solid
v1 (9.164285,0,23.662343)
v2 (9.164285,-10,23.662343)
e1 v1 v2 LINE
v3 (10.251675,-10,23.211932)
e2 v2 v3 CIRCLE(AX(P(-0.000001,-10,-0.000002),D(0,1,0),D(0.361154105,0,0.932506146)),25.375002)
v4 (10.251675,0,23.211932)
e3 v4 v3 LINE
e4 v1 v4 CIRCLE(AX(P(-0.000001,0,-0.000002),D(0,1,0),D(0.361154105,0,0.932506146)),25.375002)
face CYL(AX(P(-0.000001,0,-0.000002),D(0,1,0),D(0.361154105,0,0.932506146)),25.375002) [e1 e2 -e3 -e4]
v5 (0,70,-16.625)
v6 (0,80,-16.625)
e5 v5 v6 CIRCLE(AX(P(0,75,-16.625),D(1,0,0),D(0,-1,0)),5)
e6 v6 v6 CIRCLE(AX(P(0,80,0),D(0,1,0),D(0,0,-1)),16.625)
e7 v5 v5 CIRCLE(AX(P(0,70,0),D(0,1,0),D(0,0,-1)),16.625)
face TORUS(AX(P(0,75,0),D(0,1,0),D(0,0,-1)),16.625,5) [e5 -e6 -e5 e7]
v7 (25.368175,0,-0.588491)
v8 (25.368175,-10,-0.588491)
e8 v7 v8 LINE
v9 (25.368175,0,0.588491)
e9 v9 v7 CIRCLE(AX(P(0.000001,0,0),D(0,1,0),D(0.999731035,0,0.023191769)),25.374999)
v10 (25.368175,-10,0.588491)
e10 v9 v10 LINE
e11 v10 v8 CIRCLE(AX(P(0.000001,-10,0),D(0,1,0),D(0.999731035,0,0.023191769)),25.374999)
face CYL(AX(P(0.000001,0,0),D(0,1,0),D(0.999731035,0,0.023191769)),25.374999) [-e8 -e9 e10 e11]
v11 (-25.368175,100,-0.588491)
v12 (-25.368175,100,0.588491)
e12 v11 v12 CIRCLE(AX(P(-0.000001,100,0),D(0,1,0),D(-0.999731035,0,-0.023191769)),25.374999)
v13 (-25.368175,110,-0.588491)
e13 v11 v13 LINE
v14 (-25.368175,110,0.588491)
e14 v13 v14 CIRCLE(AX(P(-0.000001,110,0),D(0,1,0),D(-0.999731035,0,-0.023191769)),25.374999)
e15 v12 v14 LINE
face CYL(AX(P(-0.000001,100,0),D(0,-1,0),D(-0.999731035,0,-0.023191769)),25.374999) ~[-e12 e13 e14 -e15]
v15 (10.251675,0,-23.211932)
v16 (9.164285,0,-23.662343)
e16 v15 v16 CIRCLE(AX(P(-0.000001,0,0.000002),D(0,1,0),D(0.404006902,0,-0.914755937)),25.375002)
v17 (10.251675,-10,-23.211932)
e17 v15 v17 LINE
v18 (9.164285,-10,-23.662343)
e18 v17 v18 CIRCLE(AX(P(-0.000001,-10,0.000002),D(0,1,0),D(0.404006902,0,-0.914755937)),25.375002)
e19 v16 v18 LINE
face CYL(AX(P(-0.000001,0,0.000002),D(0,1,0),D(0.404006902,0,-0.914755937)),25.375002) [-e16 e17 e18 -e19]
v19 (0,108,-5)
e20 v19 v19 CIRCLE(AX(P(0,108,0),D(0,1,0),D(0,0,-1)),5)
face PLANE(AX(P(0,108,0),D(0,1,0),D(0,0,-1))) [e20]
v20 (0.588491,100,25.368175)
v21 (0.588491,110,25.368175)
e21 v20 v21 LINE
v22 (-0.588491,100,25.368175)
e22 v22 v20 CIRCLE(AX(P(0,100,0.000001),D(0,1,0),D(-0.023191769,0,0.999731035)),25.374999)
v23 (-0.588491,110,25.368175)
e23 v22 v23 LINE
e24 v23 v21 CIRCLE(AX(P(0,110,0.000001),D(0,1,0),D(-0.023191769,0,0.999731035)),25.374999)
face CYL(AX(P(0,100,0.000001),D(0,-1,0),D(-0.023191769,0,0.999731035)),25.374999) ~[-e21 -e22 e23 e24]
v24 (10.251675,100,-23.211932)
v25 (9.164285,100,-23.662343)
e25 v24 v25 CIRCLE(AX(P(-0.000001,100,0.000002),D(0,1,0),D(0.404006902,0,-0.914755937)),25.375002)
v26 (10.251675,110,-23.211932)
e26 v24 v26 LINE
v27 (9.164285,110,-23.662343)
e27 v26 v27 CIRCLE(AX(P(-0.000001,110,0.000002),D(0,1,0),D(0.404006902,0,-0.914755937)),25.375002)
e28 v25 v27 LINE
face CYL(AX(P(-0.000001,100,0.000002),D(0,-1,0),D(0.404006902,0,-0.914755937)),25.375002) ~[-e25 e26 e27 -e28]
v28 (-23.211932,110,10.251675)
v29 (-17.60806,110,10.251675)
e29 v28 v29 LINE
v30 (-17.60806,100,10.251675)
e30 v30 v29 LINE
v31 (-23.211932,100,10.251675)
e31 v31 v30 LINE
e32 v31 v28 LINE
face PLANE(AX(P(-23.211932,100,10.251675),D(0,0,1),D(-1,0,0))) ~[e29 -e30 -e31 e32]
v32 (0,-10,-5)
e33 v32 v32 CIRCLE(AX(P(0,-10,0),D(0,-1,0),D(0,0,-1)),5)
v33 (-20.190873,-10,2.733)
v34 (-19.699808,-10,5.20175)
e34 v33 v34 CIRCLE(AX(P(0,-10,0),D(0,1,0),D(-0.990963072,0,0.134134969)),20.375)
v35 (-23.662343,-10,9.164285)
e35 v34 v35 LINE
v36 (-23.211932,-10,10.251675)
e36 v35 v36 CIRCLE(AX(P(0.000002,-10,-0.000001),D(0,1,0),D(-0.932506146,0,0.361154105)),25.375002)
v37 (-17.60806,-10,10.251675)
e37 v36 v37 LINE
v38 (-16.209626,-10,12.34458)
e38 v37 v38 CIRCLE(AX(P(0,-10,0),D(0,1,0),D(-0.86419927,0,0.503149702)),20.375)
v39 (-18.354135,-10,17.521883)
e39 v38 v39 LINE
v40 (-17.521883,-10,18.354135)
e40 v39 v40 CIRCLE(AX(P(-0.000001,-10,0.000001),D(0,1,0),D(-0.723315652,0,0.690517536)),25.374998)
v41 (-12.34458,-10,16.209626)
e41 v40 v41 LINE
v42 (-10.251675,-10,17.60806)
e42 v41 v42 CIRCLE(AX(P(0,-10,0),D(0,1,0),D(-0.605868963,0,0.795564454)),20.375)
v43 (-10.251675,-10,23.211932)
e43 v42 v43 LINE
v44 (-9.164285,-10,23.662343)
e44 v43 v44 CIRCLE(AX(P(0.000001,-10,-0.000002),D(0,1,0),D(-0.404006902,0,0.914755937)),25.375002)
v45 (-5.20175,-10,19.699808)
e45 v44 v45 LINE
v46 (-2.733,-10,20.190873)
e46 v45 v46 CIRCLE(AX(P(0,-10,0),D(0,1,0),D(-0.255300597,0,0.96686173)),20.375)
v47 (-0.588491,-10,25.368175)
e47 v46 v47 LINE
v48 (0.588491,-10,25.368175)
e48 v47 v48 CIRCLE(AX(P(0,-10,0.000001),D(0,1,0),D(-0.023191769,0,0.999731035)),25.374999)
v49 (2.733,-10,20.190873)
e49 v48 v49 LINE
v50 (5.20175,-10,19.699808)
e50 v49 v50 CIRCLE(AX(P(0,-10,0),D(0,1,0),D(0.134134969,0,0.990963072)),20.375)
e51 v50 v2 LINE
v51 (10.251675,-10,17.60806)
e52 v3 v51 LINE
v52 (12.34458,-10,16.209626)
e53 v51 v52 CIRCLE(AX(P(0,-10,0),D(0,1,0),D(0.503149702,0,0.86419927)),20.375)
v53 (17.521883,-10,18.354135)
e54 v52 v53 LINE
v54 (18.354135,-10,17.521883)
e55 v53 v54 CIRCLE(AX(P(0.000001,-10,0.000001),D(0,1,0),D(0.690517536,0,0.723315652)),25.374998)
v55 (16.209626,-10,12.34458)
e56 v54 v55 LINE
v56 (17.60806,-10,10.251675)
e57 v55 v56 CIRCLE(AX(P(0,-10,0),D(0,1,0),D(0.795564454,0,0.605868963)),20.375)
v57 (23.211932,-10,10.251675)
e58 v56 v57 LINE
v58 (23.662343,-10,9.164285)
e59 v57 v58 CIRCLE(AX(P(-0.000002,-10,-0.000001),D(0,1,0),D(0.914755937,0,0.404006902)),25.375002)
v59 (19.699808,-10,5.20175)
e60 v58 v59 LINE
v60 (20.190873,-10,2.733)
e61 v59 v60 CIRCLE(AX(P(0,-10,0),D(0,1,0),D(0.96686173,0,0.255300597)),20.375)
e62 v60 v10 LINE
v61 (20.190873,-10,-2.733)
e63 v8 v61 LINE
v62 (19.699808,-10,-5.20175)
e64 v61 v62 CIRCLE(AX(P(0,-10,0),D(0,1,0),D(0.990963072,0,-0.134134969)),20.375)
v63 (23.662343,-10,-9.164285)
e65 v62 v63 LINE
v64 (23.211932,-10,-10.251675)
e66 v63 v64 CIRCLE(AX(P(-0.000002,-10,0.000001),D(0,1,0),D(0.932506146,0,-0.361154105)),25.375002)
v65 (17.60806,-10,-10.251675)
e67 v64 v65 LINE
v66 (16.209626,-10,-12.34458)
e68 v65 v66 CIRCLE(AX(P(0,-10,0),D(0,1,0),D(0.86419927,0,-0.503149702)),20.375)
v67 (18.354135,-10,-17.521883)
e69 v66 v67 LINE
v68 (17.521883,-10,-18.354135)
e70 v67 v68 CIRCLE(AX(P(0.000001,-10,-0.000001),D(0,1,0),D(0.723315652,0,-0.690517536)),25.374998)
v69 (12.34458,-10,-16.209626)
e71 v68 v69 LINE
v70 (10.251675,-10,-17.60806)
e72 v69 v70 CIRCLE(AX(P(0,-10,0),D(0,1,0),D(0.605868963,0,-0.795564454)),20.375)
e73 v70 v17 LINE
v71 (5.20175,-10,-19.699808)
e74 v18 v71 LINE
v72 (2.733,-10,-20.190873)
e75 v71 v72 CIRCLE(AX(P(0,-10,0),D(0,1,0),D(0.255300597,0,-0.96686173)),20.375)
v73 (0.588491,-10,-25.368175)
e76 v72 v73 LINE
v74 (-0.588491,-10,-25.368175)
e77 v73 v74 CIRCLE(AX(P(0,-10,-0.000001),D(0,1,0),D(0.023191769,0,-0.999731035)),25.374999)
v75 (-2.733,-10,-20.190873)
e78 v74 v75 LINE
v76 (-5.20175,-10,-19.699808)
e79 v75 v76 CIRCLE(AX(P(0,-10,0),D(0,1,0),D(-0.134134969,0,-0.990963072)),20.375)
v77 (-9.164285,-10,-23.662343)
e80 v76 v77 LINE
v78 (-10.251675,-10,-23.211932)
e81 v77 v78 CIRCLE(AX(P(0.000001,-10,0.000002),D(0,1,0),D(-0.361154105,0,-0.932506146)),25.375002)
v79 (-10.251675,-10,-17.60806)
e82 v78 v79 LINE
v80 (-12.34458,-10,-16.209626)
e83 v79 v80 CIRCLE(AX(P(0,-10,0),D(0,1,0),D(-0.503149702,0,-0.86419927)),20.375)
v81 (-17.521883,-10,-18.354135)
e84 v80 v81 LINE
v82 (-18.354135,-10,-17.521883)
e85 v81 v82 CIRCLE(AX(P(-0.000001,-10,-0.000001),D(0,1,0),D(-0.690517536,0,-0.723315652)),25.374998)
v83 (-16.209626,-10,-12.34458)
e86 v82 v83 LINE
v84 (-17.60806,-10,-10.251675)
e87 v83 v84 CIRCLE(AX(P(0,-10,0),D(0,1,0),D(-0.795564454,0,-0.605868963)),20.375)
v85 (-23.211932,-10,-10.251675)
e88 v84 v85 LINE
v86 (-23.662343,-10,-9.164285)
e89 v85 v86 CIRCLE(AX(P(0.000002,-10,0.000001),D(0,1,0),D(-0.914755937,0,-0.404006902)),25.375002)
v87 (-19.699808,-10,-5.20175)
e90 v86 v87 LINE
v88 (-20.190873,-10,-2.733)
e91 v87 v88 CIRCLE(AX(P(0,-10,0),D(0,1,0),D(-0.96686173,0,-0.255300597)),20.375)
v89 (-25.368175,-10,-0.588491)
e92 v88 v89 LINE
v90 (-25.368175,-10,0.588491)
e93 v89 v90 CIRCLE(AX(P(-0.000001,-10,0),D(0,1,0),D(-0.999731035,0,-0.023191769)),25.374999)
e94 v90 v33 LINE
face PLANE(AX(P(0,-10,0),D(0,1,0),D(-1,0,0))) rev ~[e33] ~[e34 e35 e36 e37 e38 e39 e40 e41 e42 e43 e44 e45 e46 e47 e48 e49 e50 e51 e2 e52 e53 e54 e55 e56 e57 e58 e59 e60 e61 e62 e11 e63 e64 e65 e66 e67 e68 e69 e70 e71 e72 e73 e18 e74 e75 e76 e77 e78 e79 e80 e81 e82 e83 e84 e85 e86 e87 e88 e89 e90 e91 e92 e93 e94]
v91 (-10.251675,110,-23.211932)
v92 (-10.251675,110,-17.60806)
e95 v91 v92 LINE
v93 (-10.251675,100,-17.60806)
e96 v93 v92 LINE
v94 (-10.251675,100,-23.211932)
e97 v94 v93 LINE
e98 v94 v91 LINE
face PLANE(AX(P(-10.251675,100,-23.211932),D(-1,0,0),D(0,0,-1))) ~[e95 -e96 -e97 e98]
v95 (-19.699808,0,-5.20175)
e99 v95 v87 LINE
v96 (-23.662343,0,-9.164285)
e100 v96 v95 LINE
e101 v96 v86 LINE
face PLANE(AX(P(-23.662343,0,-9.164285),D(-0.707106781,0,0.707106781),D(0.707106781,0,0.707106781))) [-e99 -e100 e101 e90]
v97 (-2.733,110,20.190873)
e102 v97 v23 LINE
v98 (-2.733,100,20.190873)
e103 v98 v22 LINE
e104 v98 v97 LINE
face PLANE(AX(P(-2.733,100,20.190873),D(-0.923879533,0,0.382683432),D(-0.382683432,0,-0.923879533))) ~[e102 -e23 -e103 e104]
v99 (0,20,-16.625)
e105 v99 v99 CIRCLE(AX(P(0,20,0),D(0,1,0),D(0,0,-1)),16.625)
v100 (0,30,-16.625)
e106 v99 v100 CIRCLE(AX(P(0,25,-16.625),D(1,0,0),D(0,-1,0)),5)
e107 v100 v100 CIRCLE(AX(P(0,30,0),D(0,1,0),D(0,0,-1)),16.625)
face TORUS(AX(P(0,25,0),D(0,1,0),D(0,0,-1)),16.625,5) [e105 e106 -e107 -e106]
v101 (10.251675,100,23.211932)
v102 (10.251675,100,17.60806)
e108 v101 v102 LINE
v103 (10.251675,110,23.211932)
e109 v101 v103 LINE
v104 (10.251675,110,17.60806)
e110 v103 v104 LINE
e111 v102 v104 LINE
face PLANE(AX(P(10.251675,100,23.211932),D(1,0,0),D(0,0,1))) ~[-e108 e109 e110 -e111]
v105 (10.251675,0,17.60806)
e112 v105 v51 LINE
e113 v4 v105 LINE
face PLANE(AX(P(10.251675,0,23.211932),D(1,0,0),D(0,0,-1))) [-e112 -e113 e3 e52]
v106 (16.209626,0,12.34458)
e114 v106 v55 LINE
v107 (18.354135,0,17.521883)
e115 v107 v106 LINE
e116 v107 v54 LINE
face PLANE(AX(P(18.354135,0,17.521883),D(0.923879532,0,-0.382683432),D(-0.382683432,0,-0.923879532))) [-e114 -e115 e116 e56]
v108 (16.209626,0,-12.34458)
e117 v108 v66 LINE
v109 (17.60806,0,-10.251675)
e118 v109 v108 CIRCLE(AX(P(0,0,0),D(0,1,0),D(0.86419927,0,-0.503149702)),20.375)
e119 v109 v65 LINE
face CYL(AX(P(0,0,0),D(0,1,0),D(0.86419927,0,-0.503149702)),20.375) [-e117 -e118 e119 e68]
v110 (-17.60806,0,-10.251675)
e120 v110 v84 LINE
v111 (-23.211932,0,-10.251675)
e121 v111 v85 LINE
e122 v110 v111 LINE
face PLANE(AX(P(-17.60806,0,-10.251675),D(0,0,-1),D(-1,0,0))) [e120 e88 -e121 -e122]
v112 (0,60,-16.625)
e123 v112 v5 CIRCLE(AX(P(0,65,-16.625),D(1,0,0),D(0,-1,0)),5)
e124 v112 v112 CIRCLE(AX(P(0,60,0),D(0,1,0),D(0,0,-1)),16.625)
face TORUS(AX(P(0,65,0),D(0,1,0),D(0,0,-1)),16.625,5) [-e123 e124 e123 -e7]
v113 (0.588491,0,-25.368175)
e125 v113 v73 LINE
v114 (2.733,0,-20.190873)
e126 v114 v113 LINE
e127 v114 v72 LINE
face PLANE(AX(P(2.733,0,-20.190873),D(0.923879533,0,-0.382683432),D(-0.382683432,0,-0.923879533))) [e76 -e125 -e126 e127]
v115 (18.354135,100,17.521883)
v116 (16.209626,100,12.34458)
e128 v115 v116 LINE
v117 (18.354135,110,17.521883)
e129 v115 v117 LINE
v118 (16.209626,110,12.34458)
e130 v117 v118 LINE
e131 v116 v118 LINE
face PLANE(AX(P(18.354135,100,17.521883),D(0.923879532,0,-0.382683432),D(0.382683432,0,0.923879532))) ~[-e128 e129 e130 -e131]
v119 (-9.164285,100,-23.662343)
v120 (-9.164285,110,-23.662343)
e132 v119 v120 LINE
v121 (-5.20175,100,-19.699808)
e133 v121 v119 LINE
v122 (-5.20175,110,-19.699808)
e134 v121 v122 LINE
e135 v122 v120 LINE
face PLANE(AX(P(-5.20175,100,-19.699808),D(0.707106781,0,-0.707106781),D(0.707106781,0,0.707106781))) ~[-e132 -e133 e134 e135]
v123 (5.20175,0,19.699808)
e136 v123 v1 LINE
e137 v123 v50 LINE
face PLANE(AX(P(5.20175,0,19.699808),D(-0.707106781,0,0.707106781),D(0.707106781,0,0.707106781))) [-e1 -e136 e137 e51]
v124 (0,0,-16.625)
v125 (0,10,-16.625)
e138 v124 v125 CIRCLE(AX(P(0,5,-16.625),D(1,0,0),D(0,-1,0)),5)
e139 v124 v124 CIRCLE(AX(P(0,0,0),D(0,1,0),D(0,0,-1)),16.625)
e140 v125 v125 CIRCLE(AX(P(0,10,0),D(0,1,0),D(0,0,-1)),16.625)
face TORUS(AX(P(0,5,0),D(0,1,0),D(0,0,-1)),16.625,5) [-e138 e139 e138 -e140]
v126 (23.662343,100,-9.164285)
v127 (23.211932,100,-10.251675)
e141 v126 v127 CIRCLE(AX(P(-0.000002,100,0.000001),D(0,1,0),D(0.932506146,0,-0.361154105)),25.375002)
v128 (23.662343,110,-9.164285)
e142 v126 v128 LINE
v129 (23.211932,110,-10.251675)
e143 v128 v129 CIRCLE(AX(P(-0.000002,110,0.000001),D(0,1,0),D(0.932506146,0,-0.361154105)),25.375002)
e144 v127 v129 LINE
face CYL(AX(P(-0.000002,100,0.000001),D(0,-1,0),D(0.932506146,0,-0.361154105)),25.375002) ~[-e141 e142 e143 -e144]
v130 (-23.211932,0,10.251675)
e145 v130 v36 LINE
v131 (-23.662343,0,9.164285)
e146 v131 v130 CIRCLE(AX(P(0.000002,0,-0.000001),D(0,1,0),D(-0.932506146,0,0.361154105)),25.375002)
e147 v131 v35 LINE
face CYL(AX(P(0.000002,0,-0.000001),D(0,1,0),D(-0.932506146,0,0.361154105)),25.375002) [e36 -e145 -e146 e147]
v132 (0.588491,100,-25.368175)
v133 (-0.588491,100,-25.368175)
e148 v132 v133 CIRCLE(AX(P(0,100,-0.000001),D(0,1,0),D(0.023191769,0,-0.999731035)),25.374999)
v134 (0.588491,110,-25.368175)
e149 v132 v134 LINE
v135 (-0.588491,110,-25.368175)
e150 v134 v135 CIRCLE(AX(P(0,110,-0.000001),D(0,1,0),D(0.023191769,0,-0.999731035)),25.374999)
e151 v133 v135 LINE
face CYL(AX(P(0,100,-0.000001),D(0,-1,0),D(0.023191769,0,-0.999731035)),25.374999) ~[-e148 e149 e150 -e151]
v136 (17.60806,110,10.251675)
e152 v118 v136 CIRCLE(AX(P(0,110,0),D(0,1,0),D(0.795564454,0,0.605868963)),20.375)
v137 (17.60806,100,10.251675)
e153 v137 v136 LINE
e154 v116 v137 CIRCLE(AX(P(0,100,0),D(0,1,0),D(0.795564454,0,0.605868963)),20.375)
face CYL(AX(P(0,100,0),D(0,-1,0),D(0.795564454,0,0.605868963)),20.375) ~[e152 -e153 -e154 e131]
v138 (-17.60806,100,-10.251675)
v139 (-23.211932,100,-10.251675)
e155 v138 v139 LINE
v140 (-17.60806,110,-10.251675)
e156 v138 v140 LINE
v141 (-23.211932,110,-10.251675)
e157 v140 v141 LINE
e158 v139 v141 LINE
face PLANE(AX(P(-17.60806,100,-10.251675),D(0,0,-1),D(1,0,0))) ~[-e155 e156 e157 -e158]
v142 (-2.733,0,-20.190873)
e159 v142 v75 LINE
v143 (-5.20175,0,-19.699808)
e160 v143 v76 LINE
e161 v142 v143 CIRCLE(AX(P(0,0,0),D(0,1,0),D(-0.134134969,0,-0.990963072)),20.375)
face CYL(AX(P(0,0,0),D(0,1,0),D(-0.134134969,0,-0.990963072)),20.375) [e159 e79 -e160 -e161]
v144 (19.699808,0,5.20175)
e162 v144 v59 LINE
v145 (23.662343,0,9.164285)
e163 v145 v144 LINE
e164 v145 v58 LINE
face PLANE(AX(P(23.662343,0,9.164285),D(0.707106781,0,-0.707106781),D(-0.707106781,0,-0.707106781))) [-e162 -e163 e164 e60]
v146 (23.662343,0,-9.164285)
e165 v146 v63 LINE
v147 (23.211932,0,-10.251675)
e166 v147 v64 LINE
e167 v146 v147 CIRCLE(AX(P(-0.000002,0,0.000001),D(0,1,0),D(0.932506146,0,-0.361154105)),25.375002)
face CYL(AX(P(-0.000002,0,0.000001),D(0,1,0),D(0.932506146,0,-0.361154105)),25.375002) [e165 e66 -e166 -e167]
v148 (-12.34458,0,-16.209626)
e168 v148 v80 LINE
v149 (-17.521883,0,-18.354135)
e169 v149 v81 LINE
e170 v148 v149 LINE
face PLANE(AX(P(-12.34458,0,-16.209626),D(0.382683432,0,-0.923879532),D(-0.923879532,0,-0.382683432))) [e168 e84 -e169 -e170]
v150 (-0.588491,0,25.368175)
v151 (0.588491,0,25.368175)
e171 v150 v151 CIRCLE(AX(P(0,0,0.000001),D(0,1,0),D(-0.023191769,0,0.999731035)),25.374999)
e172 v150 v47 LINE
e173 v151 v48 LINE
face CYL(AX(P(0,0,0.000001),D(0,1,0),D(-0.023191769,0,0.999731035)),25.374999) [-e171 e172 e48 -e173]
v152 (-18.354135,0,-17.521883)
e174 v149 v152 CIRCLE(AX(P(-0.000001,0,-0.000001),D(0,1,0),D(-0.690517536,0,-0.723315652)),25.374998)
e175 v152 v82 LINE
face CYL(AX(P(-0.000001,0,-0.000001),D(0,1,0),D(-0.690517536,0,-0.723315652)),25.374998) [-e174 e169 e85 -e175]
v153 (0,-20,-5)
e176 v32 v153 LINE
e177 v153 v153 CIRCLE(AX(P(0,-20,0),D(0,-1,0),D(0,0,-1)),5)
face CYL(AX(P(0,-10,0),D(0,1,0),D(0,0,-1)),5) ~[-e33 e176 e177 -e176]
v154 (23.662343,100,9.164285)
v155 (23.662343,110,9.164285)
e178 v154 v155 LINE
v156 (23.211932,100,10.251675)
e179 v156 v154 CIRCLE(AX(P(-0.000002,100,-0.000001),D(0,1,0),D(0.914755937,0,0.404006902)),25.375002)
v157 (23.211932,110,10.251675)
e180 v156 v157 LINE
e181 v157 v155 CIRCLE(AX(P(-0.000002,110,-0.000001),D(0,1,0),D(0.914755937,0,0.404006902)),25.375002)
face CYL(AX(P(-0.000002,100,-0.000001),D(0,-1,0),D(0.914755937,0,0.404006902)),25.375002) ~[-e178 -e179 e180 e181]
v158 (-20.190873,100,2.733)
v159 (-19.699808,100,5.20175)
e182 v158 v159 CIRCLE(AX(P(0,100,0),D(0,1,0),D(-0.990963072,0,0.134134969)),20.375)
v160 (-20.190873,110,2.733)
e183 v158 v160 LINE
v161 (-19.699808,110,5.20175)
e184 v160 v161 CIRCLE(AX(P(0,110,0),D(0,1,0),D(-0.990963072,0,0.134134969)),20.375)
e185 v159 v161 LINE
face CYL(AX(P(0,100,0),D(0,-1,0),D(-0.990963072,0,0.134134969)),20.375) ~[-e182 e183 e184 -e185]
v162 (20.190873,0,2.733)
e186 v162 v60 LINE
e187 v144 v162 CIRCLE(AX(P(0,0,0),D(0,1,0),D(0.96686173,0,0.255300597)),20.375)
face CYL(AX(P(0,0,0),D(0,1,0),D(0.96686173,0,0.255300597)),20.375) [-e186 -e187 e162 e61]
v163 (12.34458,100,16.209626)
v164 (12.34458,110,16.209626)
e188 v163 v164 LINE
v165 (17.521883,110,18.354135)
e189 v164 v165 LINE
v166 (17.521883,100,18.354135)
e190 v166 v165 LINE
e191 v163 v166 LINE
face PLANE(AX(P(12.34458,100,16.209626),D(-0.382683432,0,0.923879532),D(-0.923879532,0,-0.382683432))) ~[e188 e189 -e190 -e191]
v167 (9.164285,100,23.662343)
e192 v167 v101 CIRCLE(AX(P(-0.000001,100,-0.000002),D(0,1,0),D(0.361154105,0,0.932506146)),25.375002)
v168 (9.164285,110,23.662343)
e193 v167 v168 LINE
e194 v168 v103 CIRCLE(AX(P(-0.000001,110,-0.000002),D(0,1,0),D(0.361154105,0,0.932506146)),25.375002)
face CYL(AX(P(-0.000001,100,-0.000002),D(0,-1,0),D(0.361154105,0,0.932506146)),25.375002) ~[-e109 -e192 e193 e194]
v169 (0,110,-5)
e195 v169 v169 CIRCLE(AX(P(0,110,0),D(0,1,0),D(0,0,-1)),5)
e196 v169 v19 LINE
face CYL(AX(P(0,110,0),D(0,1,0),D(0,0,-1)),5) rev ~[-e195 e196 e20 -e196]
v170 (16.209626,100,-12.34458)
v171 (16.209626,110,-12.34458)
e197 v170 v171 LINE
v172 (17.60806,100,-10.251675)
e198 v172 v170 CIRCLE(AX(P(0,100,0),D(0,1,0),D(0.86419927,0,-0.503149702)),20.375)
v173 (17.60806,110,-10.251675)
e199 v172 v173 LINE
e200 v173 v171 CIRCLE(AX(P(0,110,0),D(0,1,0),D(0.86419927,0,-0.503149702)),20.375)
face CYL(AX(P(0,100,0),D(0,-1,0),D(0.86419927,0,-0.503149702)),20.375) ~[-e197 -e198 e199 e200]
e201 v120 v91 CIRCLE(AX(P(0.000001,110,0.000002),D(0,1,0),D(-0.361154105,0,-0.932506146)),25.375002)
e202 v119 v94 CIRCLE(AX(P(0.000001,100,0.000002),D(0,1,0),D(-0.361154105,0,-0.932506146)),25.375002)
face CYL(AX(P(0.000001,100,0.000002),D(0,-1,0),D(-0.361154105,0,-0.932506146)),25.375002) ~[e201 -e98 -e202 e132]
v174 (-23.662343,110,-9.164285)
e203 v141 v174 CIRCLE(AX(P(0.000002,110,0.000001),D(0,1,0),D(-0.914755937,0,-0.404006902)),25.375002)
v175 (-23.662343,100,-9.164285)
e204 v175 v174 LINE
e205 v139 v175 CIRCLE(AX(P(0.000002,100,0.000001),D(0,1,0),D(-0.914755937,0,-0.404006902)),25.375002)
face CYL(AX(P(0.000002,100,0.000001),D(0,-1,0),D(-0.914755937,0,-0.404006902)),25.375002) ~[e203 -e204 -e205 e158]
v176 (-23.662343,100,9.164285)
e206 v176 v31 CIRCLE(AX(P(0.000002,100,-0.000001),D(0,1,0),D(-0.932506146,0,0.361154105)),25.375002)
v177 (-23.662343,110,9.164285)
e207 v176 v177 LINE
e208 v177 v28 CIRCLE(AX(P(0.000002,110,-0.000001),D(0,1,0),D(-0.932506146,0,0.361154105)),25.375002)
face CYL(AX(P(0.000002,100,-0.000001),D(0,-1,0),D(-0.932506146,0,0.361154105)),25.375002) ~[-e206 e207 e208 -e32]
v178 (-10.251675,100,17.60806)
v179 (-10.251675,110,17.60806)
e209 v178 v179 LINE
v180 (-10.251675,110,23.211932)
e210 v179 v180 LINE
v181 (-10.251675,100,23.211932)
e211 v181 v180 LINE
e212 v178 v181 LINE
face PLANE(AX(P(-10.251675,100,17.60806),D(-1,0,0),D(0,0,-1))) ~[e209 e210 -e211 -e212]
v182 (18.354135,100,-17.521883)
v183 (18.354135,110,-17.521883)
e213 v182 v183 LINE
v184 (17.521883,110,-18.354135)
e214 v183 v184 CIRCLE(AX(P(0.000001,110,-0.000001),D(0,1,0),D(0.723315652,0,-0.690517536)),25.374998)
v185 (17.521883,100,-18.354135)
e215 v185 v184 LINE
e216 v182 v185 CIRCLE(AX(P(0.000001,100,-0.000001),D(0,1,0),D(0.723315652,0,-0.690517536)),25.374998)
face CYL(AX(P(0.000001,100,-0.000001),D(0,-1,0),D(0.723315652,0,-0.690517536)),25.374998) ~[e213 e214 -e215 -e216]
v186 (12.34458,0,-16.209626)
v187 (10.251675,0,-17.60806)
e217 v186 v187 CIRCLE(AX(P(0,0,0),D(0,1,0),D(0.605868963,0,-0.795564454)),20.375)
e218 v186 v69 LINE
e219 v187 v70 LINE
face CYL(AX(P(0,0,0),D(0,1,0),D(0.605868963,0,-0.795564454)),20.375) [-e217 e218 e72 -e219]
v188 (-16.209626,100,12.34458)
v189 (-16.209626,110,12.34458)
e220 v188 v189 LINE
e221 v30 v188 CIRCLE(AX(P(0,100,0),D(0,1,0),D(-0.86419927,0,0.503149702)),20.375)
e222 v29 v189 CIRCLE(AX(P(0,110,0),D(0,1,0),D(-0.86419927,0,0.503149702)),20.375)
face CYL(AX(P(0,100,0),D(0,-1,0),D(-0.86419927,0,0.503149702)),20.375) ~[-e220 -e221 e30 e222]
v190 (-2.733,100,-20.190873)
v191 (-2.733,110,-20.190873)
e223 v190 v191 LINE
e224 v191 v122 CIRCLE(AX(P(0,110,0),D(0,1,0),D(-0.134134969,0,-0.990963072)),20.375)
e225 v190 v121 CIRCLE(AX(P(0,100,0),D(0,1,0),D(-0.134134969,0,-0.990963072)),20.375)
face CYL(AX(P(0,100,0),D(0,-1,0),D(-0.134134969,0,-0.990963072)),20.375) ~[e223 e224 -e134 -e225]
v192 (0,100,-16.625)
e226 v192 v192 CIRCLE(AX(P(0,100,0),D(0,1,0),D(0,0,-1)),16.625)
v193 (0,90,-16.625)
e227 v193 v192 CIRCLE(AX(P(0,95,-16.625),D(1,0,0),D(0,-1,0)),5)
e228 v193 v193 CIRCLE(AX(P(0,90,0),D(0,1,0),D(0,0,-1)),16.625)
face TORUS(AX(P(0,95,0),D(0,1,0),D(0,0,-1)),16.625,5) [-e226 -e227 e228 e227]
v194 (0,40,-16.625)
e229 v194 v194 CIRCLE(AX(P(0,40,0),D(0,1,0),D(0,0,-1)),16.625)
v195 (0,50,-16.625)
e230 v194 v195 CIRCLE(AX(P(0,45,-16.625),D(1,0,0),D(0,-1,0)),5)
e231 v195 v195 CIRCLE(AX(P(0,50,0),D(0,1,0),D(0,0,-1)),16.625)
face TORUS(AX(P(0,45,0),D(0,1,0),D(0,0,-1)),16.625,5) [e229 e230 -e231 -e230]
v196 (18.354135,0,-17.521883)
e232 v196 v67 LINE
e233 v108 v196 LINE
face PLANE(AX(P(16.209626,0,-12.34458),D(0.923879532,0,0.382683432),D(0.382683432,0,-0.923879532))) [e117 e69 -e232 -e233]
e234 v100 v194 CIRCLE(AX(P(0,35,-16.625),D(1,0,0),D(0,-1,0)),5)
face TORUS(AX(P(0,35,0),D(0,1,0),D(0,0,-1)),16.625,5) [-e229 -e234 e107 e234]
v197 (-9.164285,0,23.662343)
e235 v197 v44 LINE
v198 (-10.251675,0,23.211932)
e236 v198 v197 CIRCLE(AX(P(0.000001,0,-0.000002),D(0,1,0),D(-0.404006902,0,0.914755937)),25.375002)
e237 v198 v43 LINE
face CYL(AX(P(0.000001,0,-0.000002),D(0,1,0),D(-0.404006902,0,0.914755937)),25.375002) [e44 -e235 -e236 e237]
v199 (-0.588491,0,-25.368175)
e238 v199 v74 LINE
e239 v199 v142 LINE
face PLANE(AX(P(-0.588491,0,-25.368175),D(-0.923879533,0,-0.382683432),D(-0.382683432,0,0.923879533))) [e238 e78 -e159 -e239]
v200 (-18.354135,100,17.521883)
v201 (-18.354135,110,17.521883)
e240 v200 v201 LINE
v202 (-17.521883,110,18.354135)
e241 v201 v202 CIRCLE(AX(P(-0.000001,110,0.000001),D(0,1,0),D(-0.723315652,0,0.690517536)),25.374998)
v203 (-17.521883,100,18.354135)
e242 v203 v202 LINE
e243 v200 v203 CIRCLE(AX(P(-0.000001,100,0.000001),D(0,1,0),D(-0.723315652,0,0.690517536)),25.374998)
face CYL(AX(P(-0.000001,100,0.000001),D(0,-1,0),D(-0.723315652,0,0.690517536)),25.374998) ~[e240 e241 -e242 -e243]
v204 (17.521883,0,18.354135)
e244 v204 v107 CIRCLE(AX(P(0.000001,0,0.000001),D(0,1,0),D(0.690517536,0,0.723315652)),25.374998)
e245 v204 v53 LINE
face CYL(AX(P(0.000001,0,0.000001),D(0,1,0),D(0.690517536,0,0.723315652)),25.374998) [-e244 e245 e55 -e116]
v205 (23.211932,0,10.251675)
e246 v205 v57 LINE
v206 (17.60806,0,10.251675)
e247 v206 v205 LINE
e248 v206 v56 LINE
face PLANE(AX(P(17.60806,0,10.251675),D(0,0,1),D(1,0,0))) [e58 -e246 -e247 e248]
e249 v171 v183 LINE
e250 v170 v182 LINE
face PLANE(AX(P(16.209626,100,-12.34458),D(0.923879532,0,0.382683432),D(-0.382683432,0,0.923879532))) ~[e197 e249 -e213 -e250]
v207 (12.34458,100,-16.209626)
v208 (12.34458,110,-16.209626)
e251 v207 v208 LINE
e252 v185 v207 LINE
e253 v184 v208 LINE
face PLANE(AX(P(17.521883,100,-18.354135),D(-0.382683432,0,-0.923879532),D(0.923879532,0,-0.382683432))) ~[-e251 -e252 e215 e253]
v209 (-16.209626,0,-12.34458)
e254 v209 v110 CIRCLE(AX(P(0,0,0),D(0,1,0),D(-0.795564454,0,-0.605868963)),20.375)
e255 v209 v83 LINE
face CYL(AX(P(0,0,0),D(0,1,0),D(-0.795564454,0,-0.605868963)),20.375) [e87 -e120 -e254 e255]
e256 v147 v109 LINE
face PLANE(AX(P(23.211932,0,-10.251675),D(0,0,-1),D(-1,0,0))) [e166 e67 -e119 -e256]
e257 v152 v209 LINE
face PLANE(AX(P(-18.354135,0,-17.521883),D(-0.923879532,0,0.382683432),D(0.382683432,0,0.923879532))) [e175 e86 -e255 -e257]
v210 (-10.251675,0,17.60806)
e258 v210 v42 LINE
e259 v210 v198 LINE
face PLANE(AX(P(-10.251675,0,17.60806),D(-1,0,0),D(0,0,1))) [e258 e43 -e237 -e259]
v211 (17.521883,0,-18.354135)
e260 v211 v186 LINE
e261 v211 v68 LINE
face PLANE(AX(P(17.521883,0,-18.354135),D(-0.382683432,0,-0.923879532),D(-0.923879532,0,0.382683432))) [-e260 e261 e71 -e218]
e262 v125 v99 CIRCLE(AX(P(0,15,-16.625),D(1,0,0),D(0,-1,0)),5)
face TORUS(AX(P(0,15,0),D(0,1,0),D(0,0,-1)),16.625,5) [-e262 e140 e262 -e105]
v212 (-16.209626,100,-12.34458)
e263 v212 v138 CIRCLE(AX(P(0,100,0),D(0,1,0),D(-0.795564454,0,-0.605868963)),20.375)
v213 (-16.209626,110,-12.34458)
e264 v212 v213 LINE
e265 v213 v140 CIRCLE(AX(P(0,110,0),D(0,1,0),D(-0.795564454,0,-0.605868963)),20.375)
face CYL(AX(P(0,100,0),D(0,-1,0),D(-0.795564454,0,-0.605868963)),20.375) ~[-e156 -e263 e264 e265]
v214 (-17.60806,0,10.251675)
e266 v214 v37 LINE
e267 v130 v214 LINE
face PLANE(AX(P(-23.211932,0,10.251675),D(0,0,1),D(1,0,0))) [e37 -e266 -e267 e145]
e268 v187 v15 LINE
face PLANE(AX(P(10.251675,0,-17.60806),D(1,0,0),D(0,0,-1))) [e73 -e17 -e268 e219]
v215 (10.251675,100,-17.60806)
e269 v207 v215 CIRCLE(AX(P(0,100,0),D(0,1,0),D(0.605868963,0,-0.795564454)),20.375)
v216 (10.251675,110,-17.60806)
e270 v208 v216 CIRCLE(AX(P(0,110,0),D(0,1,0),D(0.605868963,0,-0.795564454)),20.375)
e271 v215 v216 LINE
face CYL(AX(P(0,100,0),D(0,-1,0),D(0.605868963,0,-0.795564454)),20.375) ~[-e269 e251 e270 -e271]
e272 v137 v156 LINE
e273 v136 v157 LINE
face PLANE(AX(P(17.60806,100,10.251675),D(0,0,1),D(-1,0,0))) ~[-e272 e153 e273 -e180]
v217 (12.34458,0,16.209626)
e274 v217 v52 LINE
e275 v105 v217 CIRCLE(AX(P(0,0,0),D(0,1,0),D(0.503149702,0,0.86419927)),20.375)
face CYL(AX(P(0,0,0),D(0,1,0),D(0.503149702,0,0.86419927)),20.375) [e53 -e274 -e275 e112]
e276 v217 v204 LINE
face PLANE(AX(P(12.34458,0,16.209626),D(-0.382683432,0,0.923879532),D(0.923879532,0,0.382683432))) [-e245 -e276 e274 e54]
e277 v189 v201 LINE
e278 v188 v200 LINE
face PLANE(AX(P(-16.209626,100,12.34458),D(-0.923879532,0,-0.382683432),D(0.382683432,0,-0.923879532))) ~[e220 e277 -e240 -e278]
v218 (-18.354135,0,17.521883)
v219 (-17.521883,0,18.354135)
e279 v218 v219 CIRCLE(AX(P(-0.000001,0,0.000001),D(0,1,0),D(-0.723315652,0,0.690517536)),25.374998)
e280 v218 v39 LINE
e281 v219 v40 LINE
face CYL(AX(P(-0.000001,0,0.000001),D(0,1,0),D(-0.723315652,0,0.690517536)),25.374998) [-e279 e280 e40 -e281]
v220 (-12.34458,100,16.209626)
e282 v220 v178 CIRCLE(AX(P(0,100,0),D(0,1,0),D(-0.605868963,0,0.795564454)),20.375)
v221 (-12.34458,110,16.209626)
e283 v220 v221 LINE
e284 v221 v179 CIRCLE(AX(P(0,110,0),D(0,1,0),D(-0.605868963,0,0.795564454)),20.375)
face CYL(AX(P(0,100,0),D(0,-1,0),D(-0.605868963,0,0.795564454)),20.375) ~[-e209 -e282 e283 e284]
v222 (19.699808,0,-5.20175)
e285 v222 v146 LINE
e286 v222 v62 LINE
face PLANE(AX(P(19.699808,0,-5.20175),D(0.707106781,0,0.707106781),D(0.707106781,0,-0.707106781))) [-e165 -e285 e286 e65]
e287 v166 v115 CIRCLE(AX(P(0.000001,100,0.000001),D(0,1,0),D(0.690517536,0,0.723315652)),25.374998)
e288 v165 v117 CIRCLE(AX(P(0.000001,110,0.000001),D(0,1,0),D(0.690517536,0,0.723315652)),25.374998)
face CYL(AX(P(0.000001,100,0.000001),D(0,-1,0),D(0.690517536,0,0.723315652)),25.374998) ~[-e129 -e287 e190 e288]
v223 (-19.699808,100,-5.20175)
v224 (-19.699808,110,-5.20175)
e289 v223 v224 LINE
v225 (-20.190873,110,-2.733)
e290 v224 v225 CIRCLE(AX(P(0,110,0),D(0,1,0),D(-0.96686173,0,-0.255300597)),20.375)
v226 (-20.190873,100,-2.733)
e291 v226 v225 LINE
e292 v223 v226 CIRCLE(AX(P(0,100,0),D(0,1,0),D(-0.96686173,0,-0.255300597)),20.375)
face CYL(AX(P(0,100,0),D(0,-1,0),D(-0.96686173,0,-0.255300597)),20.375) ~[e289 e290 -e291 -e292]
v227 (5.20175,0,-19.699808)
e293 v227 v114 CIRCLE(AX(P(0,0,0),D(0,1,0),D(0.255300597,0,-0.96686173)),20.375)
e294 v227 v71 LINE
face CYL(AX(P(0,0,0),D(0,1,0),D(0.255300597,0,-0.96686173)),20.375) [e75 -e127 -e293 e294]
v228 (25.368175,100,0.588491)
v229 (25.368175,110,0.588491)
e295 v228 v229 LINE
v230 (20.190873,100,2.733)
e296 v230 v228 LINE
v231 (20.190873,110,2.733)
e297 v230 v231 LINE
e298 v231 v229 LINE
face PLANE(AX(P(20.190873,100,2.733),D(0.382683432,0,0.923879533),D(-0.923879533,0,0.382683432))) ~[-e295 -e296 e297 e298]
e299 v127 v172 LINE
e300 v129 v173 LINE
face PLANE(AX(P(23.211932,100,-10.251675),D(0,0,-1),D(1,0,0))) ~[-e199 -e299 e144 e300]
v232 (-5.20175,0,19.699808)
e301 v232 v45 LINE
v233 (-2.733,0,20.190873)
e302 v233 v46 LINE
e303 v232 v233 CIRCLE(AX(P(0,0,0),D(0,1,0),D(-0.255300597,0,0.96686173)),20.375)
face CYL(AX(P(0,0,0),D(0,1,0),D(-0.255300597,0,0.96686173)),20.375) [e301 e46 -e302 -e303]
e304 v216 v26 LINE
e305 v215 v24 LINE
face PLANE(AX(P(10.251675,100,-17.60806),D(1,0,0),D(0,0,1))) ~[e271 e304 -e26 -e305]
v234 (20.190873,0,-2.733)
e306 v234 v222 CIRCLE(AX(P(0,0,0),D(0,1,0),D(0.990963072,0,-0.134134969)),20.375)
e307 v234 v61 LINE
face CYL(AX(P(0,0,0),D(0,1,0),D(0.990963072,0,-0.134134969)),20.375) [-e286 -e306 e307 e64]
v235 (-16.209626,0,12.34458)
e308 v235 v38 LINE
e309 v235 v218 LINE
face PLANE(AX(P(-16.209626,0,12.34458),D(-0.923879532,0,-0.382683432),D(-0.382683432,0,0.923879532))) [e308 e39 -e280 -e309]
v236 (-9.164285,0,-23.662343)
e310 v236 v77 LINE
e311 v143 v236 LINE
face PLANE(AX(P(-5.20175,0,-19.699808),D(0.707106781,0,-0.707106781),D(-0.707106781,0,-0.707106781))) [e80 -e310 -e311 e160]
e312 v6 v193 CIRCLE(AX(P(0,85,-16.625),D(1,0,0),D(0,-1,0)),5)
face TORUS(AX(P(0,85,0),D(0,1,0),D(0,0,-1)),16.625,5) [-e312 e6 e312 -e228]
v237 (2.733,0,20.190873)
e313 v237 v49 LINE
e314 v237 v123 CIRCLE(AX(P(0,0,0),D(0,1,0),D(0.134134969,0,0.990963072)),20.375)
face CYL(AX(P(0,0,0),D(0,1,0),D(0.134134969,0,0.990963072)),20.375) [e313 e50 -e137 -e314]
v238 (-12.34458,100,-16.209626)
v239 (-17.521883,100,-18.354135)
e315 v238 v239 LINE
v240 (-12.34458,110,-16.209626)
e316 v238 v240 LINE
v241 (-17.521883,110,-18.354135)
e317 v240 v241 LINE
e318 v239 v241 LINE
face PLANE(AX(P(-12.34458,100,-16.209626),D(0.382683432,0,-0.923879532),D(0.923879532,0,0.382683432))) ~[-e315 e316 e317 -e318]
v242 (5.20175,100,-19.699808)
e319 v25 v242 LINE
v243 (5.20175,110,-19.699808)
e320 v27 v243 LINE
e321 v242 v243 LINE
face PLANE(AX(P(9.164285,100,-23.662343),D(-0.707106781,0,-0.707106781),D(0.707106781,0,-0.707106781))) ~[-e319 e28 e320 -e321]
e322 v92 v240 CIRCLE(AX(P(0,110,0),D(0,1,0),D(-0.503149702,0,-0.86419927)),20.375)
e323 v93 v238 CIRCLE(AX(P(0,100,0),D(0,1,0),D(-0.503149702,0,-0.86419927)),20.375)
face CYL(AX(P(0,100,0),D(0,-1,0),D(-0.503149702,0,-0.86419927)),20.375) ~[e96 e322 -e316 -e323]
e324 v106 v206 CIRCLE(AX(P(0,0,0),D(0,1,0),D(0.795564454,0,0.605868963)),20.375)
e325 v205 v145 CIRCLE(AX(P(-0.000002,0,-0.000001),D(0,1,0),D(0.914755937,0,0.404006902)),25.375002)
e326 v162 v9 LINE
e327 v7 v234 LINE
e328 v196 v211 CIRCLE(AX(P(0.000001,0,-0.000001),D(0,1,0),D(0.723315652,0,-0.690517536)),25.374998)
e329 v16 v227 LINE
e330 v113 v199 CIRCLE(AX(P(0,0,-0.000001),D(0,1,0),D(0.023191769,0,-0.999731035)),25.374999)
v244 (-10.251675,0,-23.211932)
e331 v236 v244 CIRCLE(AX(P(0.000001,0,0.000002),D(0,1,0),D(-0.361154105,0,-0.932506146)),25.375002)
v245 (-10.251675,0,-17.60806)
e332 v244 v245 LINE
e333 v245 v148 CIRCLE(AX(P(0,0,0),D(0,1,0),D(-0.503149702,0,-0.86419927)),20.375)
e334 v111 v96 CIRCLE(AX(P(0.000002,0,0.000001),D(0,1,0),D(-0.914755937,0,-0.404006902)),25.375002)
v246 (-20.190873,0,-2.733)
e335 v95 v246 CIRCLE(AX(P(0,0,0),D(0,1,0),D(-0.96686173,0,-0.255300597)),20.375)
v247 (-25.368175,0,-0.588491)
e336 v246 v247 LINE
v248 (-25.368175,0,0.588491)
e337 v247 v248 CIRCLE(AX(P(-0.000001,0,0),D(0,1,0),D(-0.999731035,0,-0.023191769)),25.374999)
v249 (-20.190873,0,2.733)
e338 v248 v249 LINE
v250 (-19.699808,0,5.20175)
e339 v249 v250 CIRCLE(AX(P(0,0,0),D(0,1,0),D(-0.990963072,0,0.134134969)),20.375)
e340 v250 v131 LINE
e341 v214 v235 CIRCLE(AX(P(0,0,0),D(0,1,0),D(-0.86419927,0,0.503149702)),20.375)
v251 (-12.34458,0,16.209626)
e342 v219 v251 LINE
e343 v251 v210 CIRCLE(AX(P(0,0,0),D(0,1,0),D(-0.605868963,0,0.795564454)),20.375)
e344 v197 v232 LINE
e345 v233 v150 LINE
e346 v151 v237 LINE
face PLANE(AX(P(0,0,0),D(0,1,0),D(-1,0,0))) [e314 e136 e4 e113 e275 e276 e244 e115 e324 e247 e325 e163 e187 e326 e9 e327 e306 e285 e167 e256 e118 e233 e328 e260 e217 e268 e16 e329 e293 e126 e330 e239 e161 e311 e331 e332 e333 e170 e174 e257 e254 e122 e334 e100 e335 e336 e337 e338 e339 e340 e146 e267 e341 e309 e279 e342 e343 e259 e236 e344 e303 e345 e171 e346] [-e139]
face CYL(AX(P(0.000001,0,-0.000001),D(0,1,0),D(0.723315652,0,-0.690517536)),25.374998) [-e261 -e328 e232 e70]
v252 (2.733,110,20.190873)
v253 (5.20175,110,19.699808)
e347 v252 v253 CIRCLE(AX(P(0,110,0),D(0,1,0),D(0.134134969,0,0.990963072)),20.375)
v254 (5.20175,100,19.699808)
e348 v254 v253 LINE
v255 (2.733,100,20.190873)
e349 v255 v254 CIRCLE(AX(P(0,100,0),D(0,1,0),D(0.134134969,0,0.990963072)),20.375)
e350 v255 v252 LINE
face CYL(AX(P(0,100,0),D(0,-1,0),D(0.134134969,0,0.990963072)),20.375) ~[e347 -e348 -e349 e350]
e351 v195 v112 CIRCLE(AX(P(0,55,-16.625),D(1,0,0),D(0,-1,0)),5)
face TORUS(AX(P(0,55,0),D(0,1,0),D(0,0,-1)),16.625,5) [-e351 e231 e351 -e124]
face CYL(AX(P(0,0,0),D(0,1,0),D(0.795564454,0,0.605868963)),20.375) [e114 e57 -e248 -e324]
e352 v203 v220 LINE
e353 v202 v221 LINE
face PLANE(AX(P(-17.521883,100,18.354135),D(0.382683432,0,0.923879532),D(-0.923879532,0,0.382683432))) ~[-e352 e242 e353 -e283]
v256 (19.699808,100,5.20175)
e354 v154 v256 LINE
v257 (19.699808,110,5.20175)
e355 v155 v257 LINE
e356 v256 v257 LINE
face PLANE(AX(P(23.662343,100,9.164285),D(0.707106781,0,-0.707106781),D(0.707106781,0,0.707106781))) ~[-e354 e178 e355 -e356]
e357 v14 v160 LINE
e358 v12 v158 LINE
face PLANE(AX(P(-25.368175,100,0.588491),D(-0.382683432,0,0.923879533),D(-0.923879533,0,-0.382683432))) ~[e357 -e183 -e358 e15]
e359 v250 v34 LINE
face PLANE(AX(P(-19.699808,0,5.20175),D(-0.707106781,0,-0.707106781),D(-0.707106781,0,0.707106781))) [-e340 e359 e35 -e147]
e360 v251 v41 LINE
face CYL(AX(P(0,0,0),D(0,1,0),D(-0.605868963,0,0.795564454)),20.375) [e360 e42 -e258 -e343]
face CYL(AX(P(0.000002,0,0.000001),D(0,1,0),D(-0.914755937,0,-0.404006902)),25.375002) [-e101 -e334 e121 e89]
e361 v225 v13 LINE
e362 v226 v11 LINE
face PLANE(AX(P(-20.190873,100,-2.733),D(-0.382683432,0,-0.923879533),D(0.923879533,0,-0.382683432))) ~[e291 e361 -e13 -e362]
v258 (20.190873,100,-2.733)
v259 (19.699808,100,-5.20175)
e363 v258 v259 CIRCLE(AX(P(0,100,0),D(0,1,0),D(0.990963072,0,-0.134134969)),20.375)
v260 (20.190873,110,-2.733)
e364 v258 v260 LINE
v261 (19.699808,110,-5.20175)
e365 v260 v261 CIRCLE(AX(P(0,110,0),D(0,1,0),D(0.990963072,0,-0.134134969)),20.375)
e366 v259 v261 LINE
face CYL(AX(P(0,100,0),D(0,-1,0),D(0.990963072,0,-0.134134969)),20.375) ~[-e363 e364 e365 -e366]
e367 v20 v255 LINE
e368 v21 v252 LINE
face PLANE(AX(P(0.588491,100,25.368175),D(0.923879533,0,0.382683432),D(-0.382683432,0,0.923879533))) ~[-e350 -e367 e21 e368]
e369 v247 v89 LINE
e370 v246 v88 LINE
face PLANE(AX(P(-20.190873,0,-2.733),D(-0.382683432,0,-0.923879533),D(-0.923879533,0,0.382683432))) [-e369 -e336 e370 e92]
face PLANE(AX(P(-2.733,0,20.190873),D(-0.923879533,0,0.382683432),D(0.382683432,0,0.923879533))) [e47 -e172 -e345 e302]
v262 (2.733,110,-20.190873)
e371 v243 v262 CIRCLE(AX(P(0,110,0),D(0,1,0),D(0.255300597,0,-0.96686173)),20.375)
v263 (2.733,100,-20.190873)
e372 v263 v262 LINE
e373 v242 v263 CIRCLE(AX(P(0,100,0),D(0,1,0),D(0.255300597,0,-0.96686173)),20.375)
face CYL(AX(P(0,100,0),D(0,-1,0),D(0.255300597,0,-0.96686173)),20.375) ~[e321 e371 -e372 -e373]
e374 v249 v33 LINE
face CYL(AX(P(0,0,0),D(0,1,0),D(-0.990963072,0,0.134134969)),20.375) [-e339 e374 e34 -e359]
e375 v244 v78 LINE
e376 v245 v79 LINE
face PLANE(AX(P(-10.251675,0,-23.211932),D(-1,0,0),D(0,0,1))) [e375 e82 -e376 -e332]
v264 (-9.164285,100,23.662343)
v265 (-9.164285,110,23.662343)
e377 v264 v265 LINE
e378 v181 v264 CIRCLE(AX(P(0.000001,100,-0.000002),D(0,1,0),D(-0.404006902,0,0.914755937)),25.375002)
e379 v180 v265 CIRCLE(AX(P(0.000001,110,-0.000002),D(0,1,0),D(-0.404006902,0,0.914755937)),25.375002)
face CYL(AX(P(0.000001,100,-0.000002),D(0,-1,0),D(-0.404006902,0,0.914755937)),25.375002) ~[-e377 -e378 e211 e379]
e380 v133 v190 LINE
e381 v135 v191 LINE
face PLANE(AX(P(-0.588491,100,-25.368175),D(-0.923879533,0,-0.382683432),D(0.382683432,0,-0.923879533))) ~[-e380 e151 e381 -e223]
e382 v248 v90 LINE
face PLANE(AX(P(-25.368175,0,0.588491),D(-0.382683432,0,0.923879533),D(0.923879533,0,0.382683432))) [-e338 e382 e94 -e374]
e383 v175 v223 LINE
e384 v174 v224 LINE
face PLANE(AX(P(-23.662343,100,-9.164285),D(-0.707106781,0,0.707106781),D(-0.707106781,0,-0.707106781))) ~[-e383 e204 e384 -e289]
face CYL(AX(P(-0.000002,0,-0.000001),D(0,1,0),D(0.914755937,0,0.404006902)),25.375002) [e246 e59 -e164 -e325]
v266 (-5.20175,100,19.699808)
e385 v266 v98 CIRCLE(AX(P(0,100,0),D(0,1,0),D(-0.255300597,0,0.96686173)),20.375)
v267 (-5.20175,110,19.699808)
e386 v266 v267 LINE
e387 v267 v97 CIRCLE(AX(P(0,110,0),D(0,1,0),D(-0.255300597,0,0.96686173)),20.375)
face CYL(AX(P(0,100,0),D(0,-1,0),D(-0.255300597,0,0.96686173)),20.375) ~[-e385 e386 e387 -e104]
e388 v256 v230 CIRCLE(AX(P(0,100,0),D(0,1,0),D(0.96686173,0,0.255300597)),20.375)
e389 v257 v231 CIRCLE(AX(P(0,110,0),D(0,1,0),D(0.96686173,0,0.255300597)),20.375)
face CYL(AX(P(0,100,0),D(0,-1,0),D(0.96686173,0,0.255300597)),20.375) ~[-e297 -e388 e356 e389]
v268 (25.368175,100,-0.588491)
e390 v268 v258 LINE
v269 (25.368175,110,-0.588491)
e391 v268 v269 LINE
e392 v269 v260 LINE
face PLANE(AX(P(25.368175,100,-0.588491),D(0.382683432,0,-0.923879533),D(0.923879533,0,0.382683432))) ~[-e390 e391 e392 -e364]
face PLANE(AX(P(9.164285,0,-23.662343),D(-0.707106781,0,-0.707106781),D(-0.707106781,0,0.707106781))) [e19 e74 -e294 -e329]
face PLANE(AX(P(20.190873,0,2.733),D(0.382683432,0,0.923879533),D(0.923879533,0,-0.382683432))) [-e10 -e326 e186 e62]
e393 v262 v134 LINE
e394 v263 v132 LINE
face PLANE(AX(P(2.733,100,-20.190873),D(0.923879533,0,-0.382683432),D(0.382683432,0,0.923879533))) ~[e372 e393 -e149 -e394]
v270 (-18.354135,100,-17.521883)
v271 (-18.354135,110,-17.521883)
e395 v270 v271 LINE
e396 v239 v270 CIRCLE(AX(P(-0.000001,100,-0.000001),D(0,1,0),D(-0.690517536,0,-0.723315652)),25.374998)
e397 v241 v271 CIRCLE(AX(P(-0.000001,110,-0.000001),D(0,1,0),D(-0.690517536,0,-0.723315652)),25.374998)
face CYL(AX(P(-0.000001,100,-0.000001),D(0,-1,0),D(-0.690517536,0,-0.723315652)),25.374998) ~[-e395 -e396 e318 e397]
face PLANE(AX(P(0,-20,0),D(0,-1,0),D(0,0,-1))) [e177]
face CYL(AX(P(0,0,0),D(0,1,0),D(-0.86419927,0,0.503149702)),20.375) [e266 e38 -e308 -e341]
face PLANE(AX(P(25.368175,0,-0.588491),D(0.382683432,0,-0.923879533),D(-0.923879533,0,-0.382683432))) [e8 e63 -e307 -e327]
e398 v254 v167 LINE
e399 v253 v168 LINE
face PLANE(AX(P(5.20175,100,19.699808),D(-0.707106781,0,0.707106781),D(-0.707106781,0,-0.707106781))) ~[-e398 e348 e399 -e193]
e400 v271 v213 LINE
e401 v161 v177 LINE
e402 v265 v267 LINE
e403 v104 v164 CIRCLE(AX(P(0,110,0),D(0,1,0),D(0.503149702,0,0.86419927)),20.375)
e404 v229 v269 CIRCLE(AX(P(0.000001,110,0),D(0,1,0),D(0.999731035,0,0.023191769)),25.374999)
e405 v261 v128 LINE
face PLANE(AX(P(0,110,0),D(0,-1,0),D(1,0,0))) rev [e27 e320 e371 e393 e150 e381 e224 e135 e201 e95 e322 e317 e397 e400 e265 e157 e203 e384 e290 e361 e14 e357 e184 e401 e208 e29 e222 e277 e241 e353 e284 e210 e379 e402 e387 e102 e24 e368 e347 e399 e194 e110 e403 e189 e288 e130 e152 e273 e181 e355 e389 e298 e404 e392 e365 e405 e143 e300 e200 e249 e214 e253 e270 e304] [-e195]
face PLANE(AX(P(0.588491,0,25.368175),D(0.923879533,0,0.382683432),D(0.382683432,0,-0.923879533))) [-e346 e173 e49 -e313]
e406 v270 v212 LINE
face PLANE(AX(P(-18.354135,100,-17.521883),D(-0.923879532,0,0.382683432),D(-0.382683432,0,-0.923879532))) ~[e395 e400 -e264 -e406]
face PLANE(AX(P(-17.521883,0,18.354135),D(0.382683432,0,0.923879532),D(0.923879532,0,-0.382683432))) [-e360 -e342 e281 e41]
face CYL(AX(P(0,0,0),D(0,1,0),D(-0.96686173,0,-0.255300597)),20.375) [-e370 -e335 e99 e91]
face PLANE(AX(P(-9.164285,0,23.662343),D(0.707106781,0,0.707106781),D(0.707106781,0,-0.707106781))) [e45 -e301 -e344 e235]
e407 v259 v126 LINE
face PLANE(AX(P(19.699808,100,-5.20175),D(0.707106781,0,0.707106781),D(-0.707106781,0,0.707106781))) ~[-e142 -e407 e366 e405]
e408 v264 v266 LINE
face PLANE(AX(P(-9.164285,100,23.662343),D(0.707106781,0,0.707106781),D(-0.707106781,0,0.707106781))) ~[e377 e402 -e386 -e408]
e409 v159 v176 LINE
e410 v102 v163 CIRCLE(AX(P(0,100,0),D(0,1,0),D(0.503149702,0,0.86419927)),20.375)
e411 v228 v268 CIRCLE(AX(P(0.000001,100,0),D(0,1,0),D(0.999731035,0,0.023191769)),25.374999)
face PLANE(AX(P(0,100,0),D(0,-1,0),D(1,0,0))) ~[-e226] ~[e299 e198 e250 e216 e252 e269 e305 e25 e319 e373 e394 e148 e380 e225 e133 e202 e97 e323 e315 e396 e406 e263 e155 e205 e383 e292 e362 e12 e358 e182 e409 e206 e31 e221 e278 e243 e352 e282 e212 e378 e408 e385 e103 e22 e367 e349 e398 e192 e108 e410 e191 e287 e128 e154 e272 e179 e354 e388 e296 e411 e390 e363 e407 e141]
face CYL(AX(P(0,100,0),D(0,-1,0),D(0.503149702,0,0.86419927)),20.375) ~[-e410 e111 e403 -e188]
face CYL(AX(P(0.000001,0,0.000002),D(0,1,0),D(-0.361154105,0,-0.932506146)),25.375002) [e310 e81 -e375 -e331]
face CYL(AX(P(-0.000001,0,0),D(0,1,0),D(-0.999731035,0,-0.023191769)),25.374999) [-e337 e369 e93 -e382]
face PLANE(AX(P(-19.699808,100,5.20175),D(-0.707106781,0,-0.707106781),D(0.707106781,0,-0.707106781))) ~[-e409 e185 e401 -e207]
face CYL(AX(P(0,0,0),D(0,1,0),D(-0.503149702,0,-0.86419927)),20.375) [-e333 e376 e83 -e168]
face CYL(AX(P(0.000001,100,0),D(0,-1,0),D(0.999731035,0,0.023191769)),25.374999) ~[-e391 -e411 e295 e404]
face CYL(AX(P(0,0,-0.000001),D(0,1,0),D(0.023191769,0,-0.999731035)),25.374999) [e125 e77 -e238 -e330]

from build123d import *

# Parameters (mm, degrees)
SKETCH6_W           = 100
SKETCH6_H           = 16.625
BOSS_EXTRUDE3_DEPTH = 10
SKETCH4_R           = 5
BOSS_EXTRUDE4_DEPTH = 10
SKETCH7_R           = 5
CUT_EXTRUDE1_DEPTH  = 2


with BuildPart() as part:
    # Sketch6 → Revolve1 (revolve)
    with BuildSketch(Plane(origin=(0, 0, 0), x_dir=(0, 1, 0), z_dir=(0, 0, 1)), mode=Mode.PRIVATE) as revolve1_sk:
        with Locations((50, -8.3125)):
            Rectangle(SKETCH6_W, SKETCH6_H)
        with BuildLine():
            Line((10, -16.625), (0, -16.625))
            ThreePointArc((0, -16.625), (5, -21.625), (10, -16.625))
        make_face()
        with BuildLine():
            Line((20, -16.625), (10, -16.625))
            ThreePointArc((10, -16.625), (15, -21.625), (20, -16.625))
        make_face()
        with BuildLine():
            Line((30, -16.625), (20, -16.625))
            ThreePointArc((20, -16.625), (25, -21.625), (30, -16.625))
        make_face()
        with BuildLine():
            Line((40, -16.625), (30, -16.625))
            ThreePointArc((30, -16.625), (35, -21.625), (40, -16.625))
        make_face()
        with BuildLine():
            Line((50, -16.625), (40, -16.625))
            ThreePointArc((40, -16.625), (45, -21.625), (50, -16.625))
        make_face()
        with BuildLine():
            ThreePointArc((50, -16.625), (55, -21.625), (60, -16.625))
            Line((60, -16.625), (50, -16.625))
        make_face()
        with BuildLine():
            ThreePointArc((60, -16.625), (65, -21.625), (70, -16.625))
            Line((70, -16.625), (60, -16.625))
        make_face()
        with BuildLine():
            ThreePointArc((70, -16.625), (75, -21.625), (80, -16.625))
            Line((80, -16.625), (70, -16.625))
        make_face()
        with BuildLine():
            ThreePointArc((80, -16.625), (85, -21.625), (90, -16.625))
            Line((90, -16.625), (80, -16.625))
        make_face()
        with BuildLine():
            ThreePointArc((90, -16.625), (95, -21.625), (100, -16.625))
            Line((100, -16.625), (90, -16.625))
        make_face()
    revolve(revolve1_sk.sketch.rotate(Axis((0, 0, 0), (0, 1, 0)), 90), axis=Axis((0, 0, 0), (0, 1, 0)))

    # Sketch3 → Boss-Extrude3 (add)
    with BuildSketch(Plane.XZ):
        with BuildLine():
            Line((-2.733, 20.190872591), (-0.588491123, 25.368175007))
            ThreePointArc((-0.588491123, 25.368175007), (0, 25.375), (0.588491123, 25.368175007))
            Line((0.588491123, 25.368175007), (2.733, 20.190872591))
            ThreePointArc((2.733, 20.190872591), (3.974965311, 19.983500088), (5.201749663, 19.699807751))
            Line((5.201749663, 19.699807751), (9.164285381, 23.662343469))
            ThreePointArc((9.164285381, 23.662343469), (9.710592096, 23.443443137), (10.251675188, 23.211931864))
            Line((10.251675188, 23.211931864), (10.251675188, 17.60806011))
            ThreePointArc((10.251675188, 17.60806011), (11.319743498, 16.941193351), (12.344580094, 16.20962576))
            Line((12.344580094, 16.20962576), (17.52188251, 18.354134638))
            ThreePointArc((17.52188251, 18.354134638), (17.942834573, 17.942834573), (18.354134638, 17.52188251))
            Line((18.354134638, 17.52188251), (16.20962576, 12.344580094))
            ThreePointArc((16.20962576, 12.344580094), (16.941193351, 11.319743498), (17.60806011, 10.251675188))
            Line((17.60806011, 10.251675188), (23.211931864, 10.251675188))
            ThreePointArc((23.211931864, 10.251675188), (23.443443137, 9.710592096), (23.662343469, 9.164285381))
            Line((23.662343469, 9.164285381), (19.699807751, 5.201749663))
            ThreePointArc((19.699807751, 5.201749663), (19.983500088, 3.974965311), (20.190872591, 2.733))
            Line((20.190872591, 2.733), (25.368175007, 0.588491123))
            ThreePointArc((25.368175007, 0.588491123), (25.375, 0), (25.368175007, -0.588491123))
            Line((25.368175007, -0.588491123), (20.190872591, -2.733))
            ThreePointArc((20.190872591, -2.733), (19.983500088, -3.974965311), (19.699807751, -5.201749663))
            Line((19.699807751, -5.201749663), (23.662343469, -9.164285381))
            ThreePointArc((23.662343469, -9.164285381), (23.443443137, -9.710592096), (23.211931864, -10.251675188))
            Line((23.211931864, -10.251675188), (17.60806011, -10.251675188))
            ThreePointArc((17.60806011, -10.251675188), (16.941193351, -11.319743498), (16.20962576, -12.344580094))
            Line((16.20962576, -12.344580094), (18.354134638, -17.52188251))
            ThreePointArc((18.354134638, -17.52188251), (17.942834573, -17.942834573), (17.52188251, -18.354134638))
            Line((17.52188251, -18.354134638), (12.344580094, -16.20962576))
            ThreePointArc((12.344580094, -16.20962576), (11.319743498, -16.941193351), (10.251675188, -17.60806011))
            Line((10.251675188, -17.60806011), (10.251675188, -23.211931864))
            ThreePointArc((10.251675188, -23.211931864), (9.710592096, -23.443443137), (9.164285381, -23.662343469))
            Line((9.164285381, -23.662343469), (5.201749663, -19.699807751))
            ThreePointArc((5.201749663, -19.699807751), (3.974965311, -19.983500088), (2.733, -20.190872591))
            Line((2.733, -20.190872591), (0.588491123, -25.368175007))
            ThreePointArc((0.588491123, -25.368175007), (0, -25.375), (-0.588491123, -25.368175007))
            Line((-0.588491123, -25.368175007), (-2.733, -20.190872591))
            ThreePointArc((-2.733, -20.190872591), (-3.974965311, -19.983500088), (-5.201749663, -19.699807751))
            Line((-5.201749663, -19.699807751), (-9.164285381, -23.662343469))
            ThreePointArc((-9.164285381, -23.662343469), (-9.710592096, -23.443443137), (-10.251675188, -23.211931864))
            Line((-10.251675188, -23.211931864), (-10.251675188, -17.60806011))
            ThreePointArc((-10.251675188, -17.60806011), (-11.319743498, -16.941193351), (-12.344580094, -16.20962576))
            Line((-12.344580094, -16.20962576), (-17.52188251, -18.354134638))
            ThreePointArc((-17.52188251, -18.354134638), (-17.942834573, -17.942834573), (-18.354134638, -17.52188251))
            Line((-18.354134638, -17.52188251), (-16.20962576, -12.344580094))
            ThreePointArc((-16.20962576, -12.344580094), (-16.941193351, -11.319743498), (-17.60806011, -10.251675188))
            Line((-17.60806011, -10.251675188), (-23.211931864, -10.251675188))
            ThreePointArc((-23.211931864, -10.251675188), (-23.443443137, -9.710592096), (-23.662343469, -9.164285381))
            Line((-23.662343469, -9.164285381), (-19.699807751, -5.201749663))
            ThreePointArc((-19.699807751, -5.201749663), (-19.983500088, -3.974965311), (-20.190872591, -2.733))
            Line((-20.190872591, -2.733), (-25.368175007, -0.588491123))
            ThreePointArc((-25.368175007, -0.588491123), (-25.375, 0), (-25.368175007, 0.588491123))
            Line((-25.368175007, 0.588491123), (-20.190872591, 2.733))
            ThreePointArc((-20.190872591, 2.733), (-19.983500088, 3.974965311), (-19.699807751, 5.201749663))
            Line((-19.699807751, 5.201749663), (-23.662343469, 9.164285381))
            ThreePointArc((-23.662343469, 9.164285381), (-23.443443137, 9.710592096), (-23.211931864, 10.251675188))
            Line((-23.211931864, 10.251675188), (-17.60806011, 10.251675188))
            ThreePointArc((-17.60806011, 10.251675188), (-16.941193351, 11.319743498), (-16.20962576, 12.344580094))
            Line((-16.20962576, 12.344580094), (-18.354134638, 17.52188251))
            ThreePointArc((-18.354134638, 17.52188251), (-17.942834573, 17.942834573), (-17.52188251, 18.354134638))
            Line((-17.52188251, 18.354134638), (-12.344580094, 16.20962576))
            ThreePointArc((-12.344580094, 16.20962576), (-11.319743498, 16.941193351), (-10.251675188, 17.60806011))
            Line((-10.251675188, 17.60806011), (-10.251675188, 23.211931864))
            ThreePointArc((-10.251675188, 23.211931864), (-9.710592096, 23.443443137), (-9.164285381, 23.662343469))
            Line((-9.164285381, 23.662343469), (-5.201749663, 19.699807751))
            ThreePointArc((-5.201749663, 19.699807751), (-3.974965311, 19.983500088), (-2.733, 20.190872591))
        make_face()
    boss_extrude3 = extrude(amount=BOSS_EXTRUDE3_DEPTH)

    # Mirror1: Boss-Extrude3 across plane
    add(boss_extrude3.mirror(Plane.ZX.offset(50)))

    # Sketch4 → Boss-Extrude4 (add)
    with BuildSketch(Plane.XZ.offset(10)):
        with Locations(Location((0, 0, 0), (0, 0, 270))):
            Circle(SKETCH4_R)
    extrude(amount=BOSS_EXTRUDE4_DEPTH)

    # Sketch7 → Cut-Extrude1 (cut)
    with BuildSketch(Plane(origin=(0, 110, 0), x_dir=(-1, 0, 0), z_dir=(0, 1, 0))):
        with Locations(Location((0, 0, 0), (0, 0, 270))):
            Circle(SKETCH7_R)
    extrude(amount=-CUT_EXTRUDE1_DEPTH, mode=Mode.SUBTRACT)


solid = part.part
